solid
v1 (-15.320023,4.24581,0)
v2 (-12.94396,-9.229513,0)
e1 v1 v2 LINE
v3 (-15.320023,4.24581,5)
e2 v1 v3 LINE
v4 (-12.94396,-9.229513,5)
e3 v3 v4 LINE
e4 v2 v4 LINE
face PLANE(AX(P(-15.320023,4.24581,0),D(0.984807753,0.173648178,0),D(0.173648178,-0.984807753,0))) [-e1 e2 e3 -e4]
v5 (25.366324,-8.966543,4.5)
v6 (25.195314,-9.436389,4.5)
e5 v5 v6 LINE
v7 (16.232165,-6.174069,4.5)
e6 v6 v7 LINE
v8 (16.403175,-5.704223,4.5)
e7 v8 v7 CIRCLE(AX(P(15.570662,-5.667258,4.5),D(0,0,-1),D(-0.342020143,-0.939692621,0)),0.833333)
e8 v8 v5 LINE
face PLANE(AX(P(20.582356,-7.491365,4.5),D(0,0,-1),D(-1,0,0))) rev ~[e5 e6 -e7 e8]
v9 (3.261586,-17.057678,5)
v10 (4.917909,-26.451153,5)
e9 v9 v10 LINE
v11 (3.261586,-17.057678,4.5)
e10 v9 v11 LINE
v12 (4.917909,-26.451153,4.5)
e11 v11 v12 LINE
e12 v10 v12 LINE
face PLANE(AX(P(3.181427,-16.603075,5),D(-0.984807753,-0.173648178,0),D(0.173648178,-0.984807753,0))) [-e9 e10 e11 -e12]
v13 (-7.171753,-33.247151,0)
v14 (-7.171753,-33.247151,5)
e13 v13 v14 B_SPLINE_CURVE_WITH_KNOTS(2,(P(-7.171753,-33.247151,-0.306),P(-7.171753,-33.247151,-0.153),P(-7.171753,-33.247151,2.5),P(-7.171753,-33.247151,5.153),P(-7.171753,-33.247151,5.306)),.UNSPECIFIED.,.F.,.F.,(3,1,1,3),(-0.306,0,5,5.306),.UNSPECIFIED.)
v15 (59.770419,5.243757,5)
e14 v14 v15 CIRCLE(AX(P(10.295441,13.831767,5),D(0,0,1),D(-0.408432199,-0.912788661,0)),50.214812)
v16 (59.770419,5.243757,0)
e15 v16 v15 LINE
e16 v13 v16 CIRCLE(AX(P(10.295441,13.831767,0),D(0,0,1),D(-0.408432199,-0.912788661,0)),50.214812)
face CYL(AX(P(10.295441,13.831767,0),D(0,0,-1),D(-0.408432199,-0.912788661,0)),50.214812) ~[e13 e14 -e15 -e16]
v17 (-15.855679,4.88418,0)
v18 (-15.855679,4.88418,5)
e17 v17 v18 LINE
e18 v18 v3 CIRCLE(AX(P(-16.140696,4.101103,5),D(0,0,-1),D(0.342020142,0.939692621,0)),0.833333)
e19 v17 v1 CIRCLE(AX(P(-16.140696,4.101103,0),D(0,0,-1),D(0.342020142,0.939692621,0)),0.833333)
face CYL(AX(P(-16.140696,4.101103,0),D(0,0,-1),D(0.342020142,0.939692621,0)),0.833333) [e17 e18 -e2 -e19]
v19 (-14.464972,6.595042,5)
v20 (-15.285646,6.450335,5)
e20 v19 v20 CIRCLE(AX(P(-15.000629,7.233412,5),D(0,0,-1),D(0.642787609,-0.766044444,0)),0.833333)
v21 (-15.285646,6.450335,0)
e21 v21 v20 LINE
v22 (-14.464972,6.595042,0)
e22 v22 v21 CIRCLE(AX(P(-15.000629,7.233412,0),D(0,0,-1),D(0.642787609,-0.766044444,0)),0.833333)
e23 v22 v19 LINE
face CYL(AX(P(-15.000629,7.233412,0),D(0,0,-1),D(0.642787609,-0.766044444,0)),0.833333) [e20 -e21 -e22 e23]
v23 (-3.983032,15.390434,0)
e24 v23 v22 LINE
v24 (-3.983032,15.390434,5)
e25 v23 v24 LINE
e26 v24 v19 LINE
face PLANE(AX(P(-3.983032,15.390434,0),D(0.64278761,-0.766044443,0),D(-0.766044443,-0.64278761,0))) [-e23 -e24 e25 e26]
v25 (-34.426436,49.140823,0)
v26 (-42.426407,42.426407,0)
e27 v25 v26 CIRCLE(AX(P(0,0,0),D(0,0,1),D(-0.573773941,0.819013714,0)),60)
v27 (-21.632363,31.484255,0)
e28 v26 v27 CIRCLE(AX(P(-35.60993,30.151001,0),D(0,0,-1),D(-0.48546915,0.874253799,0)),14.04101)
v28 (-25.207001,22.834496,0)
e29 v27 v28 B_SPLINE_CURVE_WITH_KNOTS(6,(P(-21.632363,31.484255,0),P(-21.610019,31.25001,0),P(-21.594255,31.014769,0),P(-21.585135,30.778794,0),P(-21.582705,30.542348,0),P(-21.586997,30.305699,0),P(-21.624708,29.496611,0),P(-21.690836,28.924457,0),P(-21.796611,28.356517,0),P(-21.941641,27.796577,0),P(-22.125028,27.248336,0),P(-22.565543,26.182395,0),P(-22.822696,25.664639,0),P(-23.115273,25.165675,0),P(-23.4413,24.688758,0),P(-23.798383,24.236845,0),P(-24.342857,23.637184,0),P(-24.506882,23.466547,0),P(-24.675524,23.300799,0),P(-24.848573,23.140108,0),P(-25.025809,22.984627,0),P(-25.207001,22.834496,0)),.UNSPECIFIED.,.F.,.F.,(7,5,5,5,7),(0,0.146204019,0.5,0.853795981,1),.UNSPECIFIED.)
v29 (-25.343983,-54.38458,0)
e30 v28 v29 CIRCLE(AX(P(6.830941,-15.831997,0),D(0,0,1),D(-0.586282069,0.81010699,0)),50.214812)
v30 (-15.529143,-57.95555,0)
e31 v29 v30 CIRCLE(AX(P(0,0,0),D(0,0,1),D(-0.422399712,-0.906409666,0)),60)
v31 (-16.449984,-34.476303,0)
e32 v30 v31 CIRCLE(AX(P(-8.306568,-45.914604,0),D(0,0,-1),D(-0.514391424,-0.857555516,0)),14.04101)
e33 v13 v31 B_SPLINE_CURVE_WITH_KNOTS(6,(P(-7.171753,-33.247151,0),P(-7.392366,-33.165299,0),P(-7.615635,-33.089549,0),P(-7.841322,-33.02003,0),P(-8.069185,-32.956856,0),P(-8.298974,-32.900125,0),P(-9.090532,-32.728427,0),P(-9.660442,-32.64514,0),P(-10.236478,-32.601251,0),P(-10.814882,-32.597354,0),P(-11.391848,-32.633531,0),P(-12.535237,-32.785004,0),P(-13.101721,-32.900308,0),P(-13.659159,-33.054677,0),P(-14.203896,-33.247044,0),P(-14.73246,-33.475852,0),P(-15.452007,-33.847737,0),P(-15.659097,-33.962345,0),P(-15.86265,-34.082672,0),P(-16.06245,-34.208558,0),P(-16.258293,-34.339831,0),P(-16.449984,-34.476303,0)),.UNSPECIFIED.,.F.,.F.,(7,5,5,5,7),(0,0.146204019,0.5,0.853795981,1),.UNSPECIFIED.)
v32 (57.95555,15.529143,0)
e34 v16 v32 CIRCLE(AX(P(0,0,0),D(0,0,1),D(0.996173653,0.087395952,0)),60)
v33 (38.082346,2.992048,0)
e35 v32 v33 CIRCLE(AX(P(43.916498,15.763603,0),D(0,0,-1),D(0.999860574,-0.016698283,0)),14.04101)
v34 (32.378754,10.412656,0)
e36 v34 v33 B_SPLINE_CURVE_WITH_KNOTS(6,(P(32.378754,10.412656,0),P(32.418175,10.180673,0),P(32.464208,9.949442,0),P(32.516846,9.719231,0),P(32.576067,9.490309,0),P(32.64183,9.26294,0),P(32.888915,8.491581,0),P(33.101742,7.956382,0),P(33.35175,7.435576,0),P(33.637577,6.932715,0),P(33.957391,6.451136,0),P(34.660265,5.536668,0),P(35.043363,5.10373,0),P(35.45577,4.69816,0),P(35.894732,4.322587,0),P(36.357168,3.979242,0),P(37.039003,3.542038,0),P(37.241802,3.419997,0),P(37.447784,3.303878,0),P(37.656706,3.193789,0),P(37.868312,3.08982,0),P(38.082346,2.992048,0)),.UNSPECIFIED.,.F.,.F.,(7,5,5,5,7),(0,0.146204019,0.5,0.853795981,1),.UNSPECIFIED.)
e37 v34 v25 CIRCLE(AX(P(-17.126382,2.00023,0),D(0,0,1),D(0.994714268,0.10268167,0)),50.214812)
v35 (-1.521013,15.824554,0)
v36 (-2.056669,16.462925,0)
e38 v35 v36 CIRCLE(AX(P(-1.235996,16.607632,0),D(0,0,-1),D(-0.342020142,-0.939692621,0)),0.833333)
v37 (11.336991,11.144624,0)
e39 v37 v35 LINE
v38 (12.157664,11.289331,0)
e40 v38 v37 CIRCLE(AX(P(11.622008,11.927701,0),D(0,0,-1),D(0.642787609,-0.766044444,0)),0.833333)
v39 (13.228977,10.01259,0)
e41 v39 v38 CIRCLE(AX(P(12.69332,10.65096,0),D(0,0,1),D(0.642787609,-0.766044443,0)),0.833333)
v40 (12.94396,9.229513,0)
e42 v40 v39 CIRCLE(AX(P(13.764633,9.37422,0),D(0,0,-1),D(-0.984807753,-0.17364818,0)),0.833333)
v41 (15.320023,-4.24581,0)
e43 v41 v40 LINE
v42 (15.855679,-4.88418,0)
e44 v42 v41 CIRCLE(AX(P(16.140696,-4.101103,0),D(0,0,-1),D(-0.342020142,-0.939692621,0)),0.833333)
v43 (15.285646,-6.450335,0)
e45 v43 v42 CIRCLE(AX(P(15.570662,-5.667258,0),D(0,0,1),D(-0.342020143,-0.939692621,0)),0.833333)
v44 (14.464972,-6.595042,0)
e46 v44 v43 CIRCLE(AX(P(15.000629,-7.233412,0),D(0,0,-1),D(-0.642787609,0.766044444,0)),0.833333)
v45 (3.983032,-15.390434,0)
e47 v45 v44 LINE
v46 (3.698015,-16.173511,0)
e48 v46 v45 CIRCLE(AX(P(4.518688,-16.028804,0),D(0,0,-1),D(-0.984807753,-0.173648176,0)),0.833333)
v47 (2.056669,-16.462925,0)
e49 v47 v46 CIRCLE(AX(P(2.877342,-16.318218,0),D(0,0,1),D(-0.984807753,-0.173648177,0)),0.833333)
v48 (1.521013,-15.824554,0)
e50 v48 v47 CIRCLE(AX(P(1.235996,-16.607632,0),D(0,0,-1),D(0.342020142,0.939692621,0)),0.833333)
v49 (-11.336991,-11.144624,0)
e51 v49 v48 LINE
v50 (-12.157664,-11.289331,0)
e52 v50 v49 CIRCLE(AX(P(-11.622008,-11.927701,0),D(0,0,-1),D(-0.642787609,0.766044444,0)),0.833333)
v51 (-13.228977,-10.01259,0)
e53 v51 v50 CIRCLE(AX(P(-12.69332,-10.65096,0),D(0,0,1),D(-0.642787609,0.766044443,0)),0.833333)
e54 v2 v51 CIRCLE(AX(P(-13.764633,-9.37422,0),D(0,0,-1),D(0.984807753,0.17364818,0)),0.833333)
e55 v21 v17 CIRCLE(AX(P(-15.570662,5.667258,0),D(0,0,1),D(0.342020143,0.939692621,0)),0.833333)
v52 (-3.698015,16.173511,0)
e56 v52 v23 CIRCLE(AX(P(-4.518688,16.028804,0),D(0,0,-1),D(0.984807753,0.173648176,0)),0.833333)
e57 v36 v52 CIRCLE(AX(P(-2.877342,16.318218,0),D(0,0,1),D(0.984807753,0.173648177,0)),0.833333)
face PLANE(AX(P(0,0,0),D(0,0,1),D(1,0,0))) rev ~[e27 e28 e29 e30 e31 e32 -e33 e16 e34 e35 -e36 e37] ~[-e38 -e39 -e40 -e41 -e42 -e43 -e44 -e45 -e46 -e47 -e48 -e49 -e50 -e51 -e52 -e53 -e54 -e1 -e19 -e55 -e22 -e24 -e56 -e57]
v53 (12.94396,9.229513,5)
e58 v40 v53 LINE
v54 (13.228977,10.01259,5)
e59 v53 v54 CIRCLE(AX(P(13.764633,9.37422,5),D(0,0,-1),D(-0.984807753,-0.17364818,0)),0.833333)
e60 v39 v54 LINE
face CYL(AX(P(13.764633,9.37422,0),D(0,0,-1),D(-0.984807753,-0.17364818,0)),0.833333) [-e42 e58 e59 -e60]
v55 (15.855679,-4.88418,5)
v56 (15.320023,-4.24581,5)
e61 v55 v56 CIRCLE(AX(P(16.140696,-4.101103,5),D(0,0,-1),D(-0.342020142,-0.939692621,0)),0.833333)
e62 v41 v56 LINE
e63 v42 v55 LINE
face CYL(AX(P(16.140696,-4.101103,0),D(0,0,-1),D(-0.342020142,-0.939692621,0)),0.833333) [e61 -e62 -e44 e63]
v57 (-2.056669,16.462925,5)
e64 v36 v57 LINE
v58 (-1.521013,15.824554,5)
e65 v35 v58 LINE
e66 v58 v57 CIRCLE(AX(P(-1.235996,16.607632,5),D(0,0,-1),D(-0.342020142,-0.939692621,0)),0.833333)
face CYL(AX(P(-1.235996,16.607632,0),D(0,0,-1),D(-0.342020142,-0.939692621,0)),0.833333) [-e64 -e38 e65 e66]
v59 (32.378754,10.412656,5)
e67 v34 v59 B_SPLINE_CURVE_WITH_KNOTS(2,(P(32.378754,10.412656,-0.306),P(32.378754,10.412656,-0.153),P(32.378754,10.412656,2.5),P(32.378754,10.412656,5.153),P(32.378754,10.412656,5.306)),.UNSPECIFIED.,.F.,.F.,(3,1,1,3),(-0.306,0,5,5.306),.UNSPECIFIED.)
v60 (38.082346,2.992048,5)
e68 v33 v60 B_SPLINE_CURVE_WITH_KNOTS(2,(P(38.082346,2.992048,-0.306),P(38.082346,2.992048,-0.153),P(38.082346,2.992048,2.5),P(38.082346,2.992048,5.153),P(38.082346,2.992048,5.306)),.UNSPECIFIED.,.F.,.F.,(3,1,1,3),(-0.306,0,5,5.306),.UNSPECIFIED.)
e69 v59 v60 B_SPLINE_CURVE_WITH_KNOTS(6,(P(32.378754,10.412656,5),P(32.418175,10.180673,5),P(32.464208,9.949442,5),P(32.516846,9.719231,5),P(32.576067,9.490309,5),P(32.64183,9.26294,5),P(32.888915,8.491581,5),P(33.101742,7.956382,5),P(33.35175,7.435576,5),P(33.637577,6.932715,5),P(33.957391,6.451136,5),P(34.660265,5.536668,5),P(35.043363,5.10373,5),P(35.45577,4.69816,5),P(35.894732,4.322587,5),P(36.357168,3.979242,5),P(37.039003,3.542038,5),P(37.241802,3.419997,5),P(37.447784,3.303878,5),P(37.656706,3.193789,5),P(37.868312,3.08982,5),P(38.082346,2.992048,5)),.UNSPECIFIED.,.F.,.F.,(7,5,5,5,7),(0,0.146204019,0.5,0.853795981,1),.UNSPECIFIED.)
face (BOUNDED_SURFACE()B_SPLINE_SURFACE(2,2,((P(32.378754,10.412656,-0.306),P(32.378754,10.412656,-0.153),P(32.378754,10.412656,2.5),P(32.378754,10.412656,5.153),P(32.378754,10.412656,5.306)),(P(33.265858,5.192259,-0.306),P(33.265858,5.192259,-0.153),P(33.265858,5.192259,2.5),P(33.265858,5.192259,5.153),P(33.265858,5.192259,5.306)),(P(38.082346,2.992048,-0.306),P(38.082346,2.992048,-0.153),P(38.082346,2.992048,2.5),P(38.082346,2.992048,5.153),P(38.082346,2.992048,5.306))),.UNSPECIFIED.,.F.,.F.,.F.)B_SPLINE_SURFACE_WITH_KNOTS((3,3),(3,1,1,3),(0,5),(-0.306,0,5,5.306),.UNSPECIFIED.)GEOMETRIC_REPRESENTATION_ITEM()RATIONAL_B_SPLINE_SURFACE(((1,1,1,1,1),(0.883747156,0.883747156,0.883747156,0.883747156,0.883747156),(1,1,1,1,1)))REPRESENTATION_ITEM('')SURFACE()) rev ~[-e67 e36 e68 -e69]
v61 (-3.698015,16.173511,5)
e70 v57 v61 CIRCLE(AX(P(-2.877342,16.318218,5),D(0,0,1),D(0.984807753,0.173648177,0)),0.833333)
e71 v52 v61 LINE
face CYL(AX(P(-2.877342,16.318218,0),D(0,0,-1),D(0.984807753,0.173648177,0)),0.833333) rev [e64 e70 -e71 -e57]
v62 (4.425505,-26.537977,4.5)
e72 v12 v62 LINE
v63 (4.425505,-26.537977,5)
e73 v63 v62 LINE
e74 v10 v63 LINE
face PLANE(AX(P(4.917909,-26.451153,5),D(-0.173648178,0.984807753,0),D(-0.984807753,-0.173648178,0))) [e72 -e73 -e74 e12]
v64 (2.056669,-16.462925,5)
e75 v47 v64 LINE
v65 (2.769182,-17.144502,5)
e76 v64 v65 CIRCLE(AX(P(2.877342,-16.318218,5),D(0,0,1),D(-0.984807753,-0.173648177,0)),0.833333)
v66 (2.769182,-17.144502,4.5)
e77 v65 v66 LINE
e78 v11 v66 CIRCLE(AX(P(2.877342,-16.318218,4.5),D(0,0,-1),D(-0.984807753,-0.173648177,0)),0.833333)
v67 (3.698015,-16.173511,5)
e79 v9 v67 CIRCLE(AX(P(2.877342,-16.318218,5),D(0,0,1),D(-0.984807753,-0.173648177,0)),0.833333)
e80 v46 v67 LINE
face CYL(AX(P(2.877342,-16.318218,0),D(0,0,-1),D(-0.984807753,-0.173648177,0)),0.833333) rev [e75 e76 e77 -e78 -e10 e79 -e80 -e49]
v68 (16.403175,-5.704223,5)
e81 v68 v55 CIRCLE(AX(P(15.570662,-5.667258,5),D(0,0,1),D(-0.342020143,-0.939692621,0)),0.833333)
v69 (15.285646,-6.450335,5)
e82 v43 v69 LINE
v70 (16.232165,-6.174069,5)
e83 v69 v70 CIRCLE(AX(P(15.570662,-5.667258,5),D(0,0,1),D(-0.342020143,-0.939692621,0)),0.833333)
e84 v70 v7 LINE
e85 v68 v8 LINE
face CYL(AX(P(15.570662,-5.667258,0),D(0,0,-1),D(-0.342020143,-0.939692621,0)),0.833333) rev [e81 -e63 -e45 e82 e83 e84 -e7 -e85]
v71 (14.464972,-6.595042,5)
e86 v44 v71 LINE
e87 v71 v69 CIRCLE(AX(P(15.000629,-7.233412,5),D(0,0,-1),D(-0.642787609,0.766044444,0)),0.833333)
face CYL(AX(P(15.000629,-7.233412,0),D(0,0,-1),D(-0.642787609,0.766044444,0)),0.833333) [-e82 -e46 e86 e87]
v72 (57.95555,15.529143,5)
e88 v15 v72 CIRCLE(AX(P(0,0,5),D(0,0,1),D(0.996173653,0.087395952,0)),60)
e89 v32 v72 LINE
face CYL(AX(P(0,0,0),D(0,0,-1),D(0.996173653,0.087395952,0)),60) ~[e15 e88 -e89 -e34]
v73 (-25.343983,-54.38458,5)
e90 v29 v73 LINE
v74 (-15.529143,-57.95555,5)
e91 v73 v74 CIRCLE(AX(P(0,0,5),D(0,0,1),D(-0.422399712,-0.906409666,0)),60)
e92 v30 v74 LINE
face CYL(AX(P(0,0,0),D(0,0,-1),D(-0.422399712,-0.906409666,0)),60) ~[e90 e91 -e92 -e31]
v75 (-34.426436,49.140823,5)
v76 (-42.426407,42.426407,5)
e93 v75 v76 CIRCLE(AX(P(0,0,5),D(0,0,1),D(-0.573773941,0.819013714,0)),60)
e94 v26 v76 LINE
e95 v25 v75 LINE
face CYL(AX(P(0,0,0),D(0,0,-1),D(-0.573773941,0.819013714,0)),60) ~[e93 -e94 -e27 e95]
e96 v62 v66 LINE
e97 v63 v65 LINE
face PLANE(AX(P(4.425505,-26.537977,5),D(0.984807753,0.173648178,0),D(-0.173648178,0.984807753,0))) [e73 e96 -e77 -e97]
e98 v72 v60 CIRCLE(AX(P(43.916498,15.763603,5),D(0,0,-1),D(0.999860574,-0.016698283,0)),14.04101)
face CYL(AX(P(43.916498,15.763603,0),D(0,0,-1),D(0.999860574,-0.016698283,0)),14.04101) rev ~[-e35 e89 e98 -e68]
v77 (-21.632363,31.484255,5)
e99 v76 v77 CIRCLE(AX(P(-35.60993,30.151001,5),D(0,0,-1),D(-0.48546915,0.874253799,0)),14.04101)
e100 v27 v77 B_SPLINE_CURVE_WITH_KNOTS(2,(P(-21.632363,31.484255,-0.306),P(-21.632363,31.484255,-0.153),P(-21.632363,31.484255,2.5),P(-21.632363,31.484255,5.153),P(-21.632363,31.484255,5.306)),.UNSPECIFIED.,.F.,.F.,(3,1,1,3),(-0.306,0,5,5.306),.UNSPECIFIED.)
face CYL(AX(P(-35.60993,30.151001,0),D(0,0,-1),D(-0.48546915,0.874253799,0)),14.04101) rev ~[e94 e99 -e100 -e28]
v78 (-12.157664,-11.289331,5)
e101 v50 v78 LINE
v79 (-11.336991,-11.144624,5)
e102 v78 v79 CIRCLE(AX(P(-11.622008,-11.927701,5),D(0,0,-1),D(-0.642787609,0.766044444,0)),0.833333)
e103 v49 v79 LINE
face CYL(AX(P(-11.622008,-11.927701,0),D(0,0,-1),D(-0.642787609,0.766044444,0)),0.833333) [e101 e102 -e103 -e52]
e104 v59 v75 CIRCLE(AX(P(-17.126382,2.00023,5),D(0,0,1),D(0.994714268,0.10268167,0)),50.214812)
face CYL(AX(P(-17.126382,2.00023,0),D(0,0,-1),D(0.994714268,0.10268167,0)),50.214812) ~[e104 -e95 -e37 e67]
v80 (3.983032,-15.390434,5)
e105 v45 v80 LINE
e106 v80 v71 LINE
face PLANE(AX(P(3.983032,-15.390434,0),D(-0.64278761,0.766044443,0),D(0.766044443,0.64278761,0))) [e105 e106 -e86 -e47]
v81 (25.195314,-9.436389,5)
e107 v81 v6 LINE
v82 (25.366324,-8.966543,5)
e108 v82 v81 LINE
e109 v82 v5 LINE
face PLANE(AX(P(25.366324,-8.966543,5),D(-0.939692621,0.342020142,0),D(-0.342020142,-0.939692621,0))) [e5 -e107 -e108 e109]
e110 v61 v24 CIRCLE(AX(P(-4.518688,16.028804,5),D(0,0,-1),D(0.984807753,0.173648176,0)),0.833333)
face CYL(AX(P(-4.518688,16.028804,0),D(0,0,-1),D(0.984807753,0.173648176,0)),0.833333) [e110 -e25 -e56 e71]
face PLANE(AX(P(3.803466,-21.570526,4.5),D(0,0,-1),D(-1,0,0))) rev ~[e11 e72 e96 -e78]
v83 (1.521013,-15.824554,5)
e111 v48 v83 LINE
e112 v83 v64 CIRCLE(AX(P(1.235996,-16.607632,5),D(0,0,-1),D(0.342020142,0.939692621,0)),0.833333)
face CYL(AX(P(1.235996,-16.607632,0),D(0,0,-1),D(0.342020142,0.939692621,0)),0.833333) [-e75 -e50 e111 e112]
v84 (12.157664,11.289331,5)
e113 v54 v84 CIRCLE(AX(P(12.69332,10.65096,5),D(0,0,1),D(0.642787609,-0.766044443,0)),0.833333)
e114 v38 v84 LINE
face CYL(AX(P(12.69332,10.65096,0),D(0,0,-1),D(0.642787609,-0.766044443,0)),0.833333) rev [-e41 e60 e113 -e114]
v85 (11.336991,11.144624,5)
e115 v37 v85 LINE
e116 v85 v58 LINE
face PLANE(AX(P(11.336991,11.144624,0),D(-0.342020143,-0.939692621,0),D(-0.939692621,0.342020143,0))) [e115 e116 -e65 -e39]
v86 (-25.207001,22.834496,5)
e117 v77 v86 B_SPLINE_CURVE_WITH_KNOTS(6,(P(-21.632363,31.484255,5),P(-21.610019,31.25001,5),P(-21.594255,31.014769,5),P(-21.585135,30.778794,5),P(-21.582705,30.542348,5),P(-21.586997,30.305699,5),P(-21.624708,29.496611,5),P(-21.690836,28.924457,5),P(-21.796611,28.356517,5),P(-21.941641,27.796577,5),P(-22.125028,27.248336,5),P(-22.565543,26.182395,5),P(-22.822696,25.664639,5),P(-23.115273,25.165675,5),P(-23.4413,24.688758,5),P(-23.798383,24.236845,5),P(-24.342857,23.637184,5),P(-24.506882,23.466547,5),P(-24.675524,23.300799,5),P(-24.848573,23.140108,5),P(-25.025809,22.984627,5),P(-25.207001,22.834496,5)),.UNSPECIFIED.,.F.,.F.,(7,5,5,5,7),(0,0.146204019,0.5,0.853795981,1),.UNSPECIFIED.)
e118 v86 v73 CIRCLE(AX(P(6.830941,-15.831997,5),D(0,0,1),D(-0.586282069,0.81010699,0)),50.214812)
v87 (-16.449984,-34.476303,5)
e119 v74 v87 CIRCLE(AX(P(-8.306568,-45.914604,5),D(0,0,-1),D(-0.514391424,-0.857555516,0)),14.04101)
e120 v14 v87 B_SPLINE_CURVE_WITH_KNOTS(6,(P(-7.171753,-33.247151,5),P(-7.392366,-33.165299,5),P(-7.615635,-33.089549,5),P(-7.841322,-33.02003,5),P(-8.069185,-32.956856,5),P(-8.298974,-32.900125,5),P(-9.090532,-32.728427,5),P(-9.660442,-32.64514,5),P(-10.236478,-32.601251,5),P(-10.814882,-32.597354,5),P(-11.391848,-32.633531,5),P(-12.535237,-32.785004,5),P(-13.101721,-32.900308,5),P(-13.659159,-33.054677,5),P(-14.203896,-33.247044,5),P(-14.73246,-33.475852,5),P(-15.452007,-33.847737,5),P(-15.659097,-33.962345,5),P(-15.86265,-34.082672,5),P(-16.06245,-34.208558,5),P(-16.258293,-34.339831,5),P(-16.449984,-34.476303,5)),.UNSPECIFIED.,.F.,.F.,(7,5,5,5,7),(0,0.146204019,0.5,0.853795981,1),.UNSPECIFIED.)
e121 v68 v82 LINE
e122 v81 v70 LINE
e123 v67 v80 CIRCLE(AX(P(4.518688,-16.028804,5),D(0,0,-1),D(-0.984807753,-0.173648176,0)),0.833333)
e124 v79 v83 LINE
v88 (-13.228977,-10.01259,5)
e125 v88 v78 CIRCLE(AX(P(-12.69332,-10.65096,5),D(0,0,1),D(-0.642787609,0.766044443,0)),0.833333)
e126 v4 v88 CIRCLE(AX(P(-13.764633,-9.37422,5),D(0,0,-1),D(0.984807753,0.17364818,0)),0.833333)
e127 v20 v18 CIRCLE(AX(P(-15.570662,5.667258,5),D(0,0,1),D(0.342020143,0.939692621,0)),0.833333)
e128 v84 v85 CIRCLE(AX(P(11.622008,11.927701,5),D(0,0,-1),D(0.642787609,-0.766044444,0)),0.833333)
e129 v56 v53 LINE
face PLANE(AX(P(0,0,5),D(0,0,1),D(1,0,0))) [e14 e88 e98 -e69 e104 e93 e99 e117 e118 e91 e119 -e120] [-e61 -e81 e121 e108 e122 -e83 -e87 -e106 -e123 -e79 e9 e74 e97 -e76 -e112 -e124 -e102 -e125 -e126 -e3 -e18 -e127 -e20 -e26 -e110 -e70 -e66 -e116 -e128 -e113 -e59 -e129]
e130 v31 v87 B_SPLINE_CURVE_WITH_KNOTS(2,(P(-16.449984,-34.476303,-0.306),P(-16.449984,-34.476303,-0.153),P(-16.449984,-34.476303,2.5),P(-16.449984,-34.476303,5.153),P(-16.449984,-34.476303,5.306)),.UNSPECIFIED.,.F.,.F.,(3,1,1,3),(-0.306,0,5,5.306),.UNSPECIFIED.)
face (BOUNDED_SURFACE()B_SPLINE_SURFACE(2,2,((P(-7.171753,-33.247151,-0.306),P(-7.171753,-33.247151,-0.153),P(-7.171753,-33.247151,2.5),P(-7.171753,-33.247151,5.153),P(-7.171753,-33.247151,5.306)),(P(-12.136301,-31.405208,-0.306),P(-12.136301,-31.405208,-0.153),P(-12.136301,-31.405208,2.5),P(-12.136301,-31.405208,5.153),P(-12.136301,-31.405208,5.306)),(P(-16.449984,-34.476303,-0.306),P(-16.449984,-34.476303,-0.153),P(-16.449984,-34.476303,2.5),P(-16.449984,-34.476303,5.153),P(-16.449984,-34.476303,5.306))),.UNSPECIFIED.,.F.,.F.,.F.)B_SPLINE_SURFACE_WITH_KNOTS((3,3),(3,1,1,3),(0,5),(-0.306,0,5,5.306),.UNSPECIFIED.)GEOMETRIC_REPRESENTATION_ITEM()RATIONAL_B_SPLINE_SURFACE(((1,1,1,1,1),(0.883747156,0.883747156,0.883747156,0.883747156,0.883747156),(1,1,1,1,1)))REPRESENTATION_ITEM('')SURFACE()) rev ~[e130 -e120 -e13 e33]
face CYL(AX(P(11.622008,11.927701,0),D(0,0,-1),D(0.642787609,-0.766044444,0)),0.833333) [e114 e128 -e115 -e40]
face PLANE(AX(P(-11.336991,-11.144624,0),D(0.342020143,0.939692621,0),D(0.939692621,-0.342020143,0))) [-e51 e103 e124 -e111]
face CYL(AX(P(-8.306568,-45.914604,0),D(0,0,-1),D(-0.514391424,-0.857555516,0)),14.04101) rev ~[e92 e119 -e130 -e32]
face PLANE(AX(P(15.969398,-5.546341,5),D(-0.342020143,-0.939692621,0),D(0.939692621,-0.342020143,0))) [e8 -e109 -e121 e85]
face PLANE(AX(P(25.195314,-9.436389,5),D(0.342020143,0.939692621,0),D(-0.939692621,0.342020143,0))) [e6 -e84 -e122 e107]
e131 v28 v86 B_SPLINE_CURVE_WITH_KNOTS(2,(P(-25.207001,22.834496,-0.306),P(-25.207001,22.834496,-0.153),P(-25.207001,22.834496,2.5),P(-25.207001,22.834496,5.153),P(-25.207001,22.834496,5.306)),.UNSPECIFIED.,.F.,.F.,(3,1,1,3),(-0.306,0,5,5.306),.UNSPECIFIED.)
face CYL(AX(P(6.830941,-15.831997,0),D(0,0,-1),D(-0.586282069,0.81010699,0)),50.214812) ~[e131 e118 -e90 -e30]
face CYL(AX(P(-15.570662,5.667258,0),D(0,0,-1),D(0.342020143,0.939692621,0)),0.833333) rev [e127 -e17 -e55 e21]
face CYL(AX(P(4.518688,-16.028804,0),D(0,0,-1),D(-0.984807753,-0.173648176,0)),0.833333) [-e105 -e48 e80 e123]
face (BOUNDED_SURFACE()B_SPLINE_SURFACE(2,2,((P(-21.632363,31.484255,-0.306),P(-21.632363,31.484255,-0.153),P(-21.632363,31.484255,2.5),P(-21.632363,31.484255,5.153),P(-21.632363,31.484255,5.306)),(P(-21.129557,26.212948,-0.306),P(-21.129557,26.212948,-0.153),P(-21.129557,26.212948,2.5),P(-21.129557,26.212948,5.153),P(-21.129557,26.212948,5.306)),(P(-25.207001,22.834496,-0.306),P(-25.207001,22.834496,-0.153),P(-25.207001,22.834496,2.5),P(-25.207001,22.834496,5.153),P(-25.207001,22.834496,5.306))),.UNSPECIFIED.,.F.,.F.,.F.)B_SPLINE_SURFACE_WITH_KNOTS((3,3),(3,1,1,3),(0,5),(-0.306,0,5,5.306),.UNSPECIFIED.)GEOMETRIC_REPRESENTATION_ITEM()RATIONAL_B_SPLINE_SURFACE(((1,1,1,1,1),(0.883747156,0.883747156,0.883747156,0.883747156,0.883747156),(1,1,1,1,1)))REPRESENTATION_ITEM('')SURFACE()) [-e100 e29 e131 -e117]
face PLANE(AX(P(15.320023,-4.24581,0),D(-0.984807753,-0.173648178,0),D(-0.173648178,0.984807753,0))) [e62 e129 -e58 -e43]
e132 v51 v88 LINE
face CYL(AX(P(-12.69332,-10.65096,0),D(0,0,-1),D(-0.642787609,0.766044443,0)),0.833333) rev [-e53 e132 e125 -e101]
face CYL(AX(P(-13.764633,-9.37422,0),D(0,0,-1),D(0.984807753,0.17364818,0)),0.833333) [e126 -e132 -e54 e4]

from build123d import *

# Parameters (mm, degrees)
BOSS_EXTRUDE1_DEPTH = 5
FILLET1_R           = 10
CUT_EXTRUDE1_DEPTH  = 0.5


with BuildPart() as part:
    # Sketch1 → Boss-Extrude1 (new body)
    with BuildSketch(Plane.XY):
        with BuildLine():
            ThreePointArc((32.82300848, 7.156370874), (9.466254973, 44.595523799), (-34.426436475, 49.140822863))
            ThreePointArc((-34.426436475, 49.140822863), (-38.572797774, 45.958016405), (-42.426406871, 42.426406871))
            ThreePointArc((-42.426406871, 42.426406871), (-26.29235792, 40.654943242), (-22.609103215, 24.847373735))
            ThreePointArc((-22.609103215, 24.847373735), (-43.353983992, -14.099744614), (-25.343982725, -54.38457998))
            ThreePointArc((-25.343982725, -54.38457998), (-20.514410827, -56.38403097), (-15.529142706, -57.955549577))
            ThreePointArc((-15.529142706, -57.955549577), (-22.062034677, -43.097321505), (-10.213905264, -32.003744609))
            ThreePointArc((-10.213905264, -32.003744609), (33.887729018, -30.495779185), (59.7704192, 5.243757117))
            ThreePointArc((59.7704192, 5.243757117), (59.087208601, 10.426014565), (57.955549577, 15.529142706))
            ThreePointArc((57.955549577, 15.529142706), (48.354392597, 2.442378263), (32.82300848, 7.156370874))
        make_face()
        with BuildLine():
            Line((-3.983032008, 15.390433913), (-14.46497239, 6.595041605))
            ThreePointArc((-14.46497239, 6.595041605), (-14.855921916, 6.412738847), (-15.285645517, 6.45033479))
            ThreePointArc((-15.285645517, 6.45033479), (-16.353739487, 5.952274392), (-15.855679089, 4.884180422))
            ThreePointArc((-15.855679089, 4.884180422), (-15.502325506, 4.63675958), (-15.320022748, 4.245810053))
            Line((-15.320022748, 4.245810053), (-12.943959764, -9.229512752))
            ThreePointArc((-12.943959764, -9.229512752), (-12.981555707, -9.659236353), (-13.22897655, -10.012589936))
            ThreePointArc((-13.22897655, -10.012589936), (-13.331690578, -11.186616647), (-12.157663867, -11.289330674))
            ThreePointArc((-12.157663867, -11.289330674), (-11.76671434, -11.107027916), (-11.336990739, -11.14462386))
            Line((-11.336990739, -11.14462386), (1.521012626, -15.824554357))
            ThreePointArc((1.521012626, -15.824554357), (1.874366209, -16.071975199), (2.056668967, -16.462924726))
            ThreePointArc((2.056668967, -16.462924726), (3.02204891, -17.138891039), (3.698015222, -16.173511097))
            ThreePointArc((3.698015222, -16.173511097), (3.735611166, -15.743787496), (3.983032008, -15.390433913))
            Line((3.983032008, -15.390433913), (14.46497239, -6.595041605))
            ThreePointArc((14.46497239, -6.595041605), (14.855921916, -6.412738847), (15.285645517, -6.45033479))
            ThreePointArc((15.285645517, -6.45033479), (16.353739487, -5.952274392), (15.855679089, -4.884180422))
            ThreePointArc((15.855679089, -4.884180422), (15.502325506, -4.63675958), (15.320022748, -4.245810053))
            Line((15.320022748, -4.245810053), (12.943959764, 9.229512752))
            ThreePointArc((12.943959764, 9.229512752), (12.981555707, 9.659236353), (13.22897655, 10.012589936))
            ThreePointArc((13.22897655, 10.012589936), (13.331690578, 11.186616647), (12.157663867, 11.289330674))
            ThreePointArc((12.157663867, 11.289330674), (11.76671434, 11.107027916), (11.336990739, 11.14462386))
            Line((11.336990739, 11.14462386), (-1.521012626, 15.824554357))
            ThreePointArc((-1.521012626, 15.824554357), (-1.874366209, 16.071975199), (-2.056668967, 16.462924726))
            ThreePointArc((-2.056668967, 16.462924726), (-3.02204891, 17.138891039), (-3.698015222, 16.173511097))
            ThreePointArc((-3.698015222, 16.173511097), (-3.735611166, 15.743787496), (-3.983032008, 15.390433913))
        make_face(mode=Mode.SUBTRACT)
    extrude(amount=BOSS_EXTRUDE1_DEPTH)

    # Fillet1
    fillet1_edges = [part.edges().sort_by_distance(p)[0] for p in [
        (32.82300848, 7.156370874, 2.5),
        (-10.213905264, -32.003744609, 2.5),
        (-22.609103215, 24.847373735, 2.5),
    ]]
    fillet(fillet1_edges, radius=FILLET1_R)

    # Sketch2 → Cut-Extrude1 (cut)
    with BuildSketch(Plane.XY.offset(5)):
        Polygon((2.689022882, -16.689899207), (3.181426759, -16.603075118), (4.917908536, -26.451152648), (4.425504659, -26.537976737), align=None)
        Polygon((15.798388141, -6.016187476), (15.969398213, -5.546341165), (25.36632442, -8.966542599), (25.195314349, -9.436388909), align=None)
    extrude(amount=-CUT_EXTRUDE1_DEPTH, mode=Mode.SUBTRACT)


solid = part.part
